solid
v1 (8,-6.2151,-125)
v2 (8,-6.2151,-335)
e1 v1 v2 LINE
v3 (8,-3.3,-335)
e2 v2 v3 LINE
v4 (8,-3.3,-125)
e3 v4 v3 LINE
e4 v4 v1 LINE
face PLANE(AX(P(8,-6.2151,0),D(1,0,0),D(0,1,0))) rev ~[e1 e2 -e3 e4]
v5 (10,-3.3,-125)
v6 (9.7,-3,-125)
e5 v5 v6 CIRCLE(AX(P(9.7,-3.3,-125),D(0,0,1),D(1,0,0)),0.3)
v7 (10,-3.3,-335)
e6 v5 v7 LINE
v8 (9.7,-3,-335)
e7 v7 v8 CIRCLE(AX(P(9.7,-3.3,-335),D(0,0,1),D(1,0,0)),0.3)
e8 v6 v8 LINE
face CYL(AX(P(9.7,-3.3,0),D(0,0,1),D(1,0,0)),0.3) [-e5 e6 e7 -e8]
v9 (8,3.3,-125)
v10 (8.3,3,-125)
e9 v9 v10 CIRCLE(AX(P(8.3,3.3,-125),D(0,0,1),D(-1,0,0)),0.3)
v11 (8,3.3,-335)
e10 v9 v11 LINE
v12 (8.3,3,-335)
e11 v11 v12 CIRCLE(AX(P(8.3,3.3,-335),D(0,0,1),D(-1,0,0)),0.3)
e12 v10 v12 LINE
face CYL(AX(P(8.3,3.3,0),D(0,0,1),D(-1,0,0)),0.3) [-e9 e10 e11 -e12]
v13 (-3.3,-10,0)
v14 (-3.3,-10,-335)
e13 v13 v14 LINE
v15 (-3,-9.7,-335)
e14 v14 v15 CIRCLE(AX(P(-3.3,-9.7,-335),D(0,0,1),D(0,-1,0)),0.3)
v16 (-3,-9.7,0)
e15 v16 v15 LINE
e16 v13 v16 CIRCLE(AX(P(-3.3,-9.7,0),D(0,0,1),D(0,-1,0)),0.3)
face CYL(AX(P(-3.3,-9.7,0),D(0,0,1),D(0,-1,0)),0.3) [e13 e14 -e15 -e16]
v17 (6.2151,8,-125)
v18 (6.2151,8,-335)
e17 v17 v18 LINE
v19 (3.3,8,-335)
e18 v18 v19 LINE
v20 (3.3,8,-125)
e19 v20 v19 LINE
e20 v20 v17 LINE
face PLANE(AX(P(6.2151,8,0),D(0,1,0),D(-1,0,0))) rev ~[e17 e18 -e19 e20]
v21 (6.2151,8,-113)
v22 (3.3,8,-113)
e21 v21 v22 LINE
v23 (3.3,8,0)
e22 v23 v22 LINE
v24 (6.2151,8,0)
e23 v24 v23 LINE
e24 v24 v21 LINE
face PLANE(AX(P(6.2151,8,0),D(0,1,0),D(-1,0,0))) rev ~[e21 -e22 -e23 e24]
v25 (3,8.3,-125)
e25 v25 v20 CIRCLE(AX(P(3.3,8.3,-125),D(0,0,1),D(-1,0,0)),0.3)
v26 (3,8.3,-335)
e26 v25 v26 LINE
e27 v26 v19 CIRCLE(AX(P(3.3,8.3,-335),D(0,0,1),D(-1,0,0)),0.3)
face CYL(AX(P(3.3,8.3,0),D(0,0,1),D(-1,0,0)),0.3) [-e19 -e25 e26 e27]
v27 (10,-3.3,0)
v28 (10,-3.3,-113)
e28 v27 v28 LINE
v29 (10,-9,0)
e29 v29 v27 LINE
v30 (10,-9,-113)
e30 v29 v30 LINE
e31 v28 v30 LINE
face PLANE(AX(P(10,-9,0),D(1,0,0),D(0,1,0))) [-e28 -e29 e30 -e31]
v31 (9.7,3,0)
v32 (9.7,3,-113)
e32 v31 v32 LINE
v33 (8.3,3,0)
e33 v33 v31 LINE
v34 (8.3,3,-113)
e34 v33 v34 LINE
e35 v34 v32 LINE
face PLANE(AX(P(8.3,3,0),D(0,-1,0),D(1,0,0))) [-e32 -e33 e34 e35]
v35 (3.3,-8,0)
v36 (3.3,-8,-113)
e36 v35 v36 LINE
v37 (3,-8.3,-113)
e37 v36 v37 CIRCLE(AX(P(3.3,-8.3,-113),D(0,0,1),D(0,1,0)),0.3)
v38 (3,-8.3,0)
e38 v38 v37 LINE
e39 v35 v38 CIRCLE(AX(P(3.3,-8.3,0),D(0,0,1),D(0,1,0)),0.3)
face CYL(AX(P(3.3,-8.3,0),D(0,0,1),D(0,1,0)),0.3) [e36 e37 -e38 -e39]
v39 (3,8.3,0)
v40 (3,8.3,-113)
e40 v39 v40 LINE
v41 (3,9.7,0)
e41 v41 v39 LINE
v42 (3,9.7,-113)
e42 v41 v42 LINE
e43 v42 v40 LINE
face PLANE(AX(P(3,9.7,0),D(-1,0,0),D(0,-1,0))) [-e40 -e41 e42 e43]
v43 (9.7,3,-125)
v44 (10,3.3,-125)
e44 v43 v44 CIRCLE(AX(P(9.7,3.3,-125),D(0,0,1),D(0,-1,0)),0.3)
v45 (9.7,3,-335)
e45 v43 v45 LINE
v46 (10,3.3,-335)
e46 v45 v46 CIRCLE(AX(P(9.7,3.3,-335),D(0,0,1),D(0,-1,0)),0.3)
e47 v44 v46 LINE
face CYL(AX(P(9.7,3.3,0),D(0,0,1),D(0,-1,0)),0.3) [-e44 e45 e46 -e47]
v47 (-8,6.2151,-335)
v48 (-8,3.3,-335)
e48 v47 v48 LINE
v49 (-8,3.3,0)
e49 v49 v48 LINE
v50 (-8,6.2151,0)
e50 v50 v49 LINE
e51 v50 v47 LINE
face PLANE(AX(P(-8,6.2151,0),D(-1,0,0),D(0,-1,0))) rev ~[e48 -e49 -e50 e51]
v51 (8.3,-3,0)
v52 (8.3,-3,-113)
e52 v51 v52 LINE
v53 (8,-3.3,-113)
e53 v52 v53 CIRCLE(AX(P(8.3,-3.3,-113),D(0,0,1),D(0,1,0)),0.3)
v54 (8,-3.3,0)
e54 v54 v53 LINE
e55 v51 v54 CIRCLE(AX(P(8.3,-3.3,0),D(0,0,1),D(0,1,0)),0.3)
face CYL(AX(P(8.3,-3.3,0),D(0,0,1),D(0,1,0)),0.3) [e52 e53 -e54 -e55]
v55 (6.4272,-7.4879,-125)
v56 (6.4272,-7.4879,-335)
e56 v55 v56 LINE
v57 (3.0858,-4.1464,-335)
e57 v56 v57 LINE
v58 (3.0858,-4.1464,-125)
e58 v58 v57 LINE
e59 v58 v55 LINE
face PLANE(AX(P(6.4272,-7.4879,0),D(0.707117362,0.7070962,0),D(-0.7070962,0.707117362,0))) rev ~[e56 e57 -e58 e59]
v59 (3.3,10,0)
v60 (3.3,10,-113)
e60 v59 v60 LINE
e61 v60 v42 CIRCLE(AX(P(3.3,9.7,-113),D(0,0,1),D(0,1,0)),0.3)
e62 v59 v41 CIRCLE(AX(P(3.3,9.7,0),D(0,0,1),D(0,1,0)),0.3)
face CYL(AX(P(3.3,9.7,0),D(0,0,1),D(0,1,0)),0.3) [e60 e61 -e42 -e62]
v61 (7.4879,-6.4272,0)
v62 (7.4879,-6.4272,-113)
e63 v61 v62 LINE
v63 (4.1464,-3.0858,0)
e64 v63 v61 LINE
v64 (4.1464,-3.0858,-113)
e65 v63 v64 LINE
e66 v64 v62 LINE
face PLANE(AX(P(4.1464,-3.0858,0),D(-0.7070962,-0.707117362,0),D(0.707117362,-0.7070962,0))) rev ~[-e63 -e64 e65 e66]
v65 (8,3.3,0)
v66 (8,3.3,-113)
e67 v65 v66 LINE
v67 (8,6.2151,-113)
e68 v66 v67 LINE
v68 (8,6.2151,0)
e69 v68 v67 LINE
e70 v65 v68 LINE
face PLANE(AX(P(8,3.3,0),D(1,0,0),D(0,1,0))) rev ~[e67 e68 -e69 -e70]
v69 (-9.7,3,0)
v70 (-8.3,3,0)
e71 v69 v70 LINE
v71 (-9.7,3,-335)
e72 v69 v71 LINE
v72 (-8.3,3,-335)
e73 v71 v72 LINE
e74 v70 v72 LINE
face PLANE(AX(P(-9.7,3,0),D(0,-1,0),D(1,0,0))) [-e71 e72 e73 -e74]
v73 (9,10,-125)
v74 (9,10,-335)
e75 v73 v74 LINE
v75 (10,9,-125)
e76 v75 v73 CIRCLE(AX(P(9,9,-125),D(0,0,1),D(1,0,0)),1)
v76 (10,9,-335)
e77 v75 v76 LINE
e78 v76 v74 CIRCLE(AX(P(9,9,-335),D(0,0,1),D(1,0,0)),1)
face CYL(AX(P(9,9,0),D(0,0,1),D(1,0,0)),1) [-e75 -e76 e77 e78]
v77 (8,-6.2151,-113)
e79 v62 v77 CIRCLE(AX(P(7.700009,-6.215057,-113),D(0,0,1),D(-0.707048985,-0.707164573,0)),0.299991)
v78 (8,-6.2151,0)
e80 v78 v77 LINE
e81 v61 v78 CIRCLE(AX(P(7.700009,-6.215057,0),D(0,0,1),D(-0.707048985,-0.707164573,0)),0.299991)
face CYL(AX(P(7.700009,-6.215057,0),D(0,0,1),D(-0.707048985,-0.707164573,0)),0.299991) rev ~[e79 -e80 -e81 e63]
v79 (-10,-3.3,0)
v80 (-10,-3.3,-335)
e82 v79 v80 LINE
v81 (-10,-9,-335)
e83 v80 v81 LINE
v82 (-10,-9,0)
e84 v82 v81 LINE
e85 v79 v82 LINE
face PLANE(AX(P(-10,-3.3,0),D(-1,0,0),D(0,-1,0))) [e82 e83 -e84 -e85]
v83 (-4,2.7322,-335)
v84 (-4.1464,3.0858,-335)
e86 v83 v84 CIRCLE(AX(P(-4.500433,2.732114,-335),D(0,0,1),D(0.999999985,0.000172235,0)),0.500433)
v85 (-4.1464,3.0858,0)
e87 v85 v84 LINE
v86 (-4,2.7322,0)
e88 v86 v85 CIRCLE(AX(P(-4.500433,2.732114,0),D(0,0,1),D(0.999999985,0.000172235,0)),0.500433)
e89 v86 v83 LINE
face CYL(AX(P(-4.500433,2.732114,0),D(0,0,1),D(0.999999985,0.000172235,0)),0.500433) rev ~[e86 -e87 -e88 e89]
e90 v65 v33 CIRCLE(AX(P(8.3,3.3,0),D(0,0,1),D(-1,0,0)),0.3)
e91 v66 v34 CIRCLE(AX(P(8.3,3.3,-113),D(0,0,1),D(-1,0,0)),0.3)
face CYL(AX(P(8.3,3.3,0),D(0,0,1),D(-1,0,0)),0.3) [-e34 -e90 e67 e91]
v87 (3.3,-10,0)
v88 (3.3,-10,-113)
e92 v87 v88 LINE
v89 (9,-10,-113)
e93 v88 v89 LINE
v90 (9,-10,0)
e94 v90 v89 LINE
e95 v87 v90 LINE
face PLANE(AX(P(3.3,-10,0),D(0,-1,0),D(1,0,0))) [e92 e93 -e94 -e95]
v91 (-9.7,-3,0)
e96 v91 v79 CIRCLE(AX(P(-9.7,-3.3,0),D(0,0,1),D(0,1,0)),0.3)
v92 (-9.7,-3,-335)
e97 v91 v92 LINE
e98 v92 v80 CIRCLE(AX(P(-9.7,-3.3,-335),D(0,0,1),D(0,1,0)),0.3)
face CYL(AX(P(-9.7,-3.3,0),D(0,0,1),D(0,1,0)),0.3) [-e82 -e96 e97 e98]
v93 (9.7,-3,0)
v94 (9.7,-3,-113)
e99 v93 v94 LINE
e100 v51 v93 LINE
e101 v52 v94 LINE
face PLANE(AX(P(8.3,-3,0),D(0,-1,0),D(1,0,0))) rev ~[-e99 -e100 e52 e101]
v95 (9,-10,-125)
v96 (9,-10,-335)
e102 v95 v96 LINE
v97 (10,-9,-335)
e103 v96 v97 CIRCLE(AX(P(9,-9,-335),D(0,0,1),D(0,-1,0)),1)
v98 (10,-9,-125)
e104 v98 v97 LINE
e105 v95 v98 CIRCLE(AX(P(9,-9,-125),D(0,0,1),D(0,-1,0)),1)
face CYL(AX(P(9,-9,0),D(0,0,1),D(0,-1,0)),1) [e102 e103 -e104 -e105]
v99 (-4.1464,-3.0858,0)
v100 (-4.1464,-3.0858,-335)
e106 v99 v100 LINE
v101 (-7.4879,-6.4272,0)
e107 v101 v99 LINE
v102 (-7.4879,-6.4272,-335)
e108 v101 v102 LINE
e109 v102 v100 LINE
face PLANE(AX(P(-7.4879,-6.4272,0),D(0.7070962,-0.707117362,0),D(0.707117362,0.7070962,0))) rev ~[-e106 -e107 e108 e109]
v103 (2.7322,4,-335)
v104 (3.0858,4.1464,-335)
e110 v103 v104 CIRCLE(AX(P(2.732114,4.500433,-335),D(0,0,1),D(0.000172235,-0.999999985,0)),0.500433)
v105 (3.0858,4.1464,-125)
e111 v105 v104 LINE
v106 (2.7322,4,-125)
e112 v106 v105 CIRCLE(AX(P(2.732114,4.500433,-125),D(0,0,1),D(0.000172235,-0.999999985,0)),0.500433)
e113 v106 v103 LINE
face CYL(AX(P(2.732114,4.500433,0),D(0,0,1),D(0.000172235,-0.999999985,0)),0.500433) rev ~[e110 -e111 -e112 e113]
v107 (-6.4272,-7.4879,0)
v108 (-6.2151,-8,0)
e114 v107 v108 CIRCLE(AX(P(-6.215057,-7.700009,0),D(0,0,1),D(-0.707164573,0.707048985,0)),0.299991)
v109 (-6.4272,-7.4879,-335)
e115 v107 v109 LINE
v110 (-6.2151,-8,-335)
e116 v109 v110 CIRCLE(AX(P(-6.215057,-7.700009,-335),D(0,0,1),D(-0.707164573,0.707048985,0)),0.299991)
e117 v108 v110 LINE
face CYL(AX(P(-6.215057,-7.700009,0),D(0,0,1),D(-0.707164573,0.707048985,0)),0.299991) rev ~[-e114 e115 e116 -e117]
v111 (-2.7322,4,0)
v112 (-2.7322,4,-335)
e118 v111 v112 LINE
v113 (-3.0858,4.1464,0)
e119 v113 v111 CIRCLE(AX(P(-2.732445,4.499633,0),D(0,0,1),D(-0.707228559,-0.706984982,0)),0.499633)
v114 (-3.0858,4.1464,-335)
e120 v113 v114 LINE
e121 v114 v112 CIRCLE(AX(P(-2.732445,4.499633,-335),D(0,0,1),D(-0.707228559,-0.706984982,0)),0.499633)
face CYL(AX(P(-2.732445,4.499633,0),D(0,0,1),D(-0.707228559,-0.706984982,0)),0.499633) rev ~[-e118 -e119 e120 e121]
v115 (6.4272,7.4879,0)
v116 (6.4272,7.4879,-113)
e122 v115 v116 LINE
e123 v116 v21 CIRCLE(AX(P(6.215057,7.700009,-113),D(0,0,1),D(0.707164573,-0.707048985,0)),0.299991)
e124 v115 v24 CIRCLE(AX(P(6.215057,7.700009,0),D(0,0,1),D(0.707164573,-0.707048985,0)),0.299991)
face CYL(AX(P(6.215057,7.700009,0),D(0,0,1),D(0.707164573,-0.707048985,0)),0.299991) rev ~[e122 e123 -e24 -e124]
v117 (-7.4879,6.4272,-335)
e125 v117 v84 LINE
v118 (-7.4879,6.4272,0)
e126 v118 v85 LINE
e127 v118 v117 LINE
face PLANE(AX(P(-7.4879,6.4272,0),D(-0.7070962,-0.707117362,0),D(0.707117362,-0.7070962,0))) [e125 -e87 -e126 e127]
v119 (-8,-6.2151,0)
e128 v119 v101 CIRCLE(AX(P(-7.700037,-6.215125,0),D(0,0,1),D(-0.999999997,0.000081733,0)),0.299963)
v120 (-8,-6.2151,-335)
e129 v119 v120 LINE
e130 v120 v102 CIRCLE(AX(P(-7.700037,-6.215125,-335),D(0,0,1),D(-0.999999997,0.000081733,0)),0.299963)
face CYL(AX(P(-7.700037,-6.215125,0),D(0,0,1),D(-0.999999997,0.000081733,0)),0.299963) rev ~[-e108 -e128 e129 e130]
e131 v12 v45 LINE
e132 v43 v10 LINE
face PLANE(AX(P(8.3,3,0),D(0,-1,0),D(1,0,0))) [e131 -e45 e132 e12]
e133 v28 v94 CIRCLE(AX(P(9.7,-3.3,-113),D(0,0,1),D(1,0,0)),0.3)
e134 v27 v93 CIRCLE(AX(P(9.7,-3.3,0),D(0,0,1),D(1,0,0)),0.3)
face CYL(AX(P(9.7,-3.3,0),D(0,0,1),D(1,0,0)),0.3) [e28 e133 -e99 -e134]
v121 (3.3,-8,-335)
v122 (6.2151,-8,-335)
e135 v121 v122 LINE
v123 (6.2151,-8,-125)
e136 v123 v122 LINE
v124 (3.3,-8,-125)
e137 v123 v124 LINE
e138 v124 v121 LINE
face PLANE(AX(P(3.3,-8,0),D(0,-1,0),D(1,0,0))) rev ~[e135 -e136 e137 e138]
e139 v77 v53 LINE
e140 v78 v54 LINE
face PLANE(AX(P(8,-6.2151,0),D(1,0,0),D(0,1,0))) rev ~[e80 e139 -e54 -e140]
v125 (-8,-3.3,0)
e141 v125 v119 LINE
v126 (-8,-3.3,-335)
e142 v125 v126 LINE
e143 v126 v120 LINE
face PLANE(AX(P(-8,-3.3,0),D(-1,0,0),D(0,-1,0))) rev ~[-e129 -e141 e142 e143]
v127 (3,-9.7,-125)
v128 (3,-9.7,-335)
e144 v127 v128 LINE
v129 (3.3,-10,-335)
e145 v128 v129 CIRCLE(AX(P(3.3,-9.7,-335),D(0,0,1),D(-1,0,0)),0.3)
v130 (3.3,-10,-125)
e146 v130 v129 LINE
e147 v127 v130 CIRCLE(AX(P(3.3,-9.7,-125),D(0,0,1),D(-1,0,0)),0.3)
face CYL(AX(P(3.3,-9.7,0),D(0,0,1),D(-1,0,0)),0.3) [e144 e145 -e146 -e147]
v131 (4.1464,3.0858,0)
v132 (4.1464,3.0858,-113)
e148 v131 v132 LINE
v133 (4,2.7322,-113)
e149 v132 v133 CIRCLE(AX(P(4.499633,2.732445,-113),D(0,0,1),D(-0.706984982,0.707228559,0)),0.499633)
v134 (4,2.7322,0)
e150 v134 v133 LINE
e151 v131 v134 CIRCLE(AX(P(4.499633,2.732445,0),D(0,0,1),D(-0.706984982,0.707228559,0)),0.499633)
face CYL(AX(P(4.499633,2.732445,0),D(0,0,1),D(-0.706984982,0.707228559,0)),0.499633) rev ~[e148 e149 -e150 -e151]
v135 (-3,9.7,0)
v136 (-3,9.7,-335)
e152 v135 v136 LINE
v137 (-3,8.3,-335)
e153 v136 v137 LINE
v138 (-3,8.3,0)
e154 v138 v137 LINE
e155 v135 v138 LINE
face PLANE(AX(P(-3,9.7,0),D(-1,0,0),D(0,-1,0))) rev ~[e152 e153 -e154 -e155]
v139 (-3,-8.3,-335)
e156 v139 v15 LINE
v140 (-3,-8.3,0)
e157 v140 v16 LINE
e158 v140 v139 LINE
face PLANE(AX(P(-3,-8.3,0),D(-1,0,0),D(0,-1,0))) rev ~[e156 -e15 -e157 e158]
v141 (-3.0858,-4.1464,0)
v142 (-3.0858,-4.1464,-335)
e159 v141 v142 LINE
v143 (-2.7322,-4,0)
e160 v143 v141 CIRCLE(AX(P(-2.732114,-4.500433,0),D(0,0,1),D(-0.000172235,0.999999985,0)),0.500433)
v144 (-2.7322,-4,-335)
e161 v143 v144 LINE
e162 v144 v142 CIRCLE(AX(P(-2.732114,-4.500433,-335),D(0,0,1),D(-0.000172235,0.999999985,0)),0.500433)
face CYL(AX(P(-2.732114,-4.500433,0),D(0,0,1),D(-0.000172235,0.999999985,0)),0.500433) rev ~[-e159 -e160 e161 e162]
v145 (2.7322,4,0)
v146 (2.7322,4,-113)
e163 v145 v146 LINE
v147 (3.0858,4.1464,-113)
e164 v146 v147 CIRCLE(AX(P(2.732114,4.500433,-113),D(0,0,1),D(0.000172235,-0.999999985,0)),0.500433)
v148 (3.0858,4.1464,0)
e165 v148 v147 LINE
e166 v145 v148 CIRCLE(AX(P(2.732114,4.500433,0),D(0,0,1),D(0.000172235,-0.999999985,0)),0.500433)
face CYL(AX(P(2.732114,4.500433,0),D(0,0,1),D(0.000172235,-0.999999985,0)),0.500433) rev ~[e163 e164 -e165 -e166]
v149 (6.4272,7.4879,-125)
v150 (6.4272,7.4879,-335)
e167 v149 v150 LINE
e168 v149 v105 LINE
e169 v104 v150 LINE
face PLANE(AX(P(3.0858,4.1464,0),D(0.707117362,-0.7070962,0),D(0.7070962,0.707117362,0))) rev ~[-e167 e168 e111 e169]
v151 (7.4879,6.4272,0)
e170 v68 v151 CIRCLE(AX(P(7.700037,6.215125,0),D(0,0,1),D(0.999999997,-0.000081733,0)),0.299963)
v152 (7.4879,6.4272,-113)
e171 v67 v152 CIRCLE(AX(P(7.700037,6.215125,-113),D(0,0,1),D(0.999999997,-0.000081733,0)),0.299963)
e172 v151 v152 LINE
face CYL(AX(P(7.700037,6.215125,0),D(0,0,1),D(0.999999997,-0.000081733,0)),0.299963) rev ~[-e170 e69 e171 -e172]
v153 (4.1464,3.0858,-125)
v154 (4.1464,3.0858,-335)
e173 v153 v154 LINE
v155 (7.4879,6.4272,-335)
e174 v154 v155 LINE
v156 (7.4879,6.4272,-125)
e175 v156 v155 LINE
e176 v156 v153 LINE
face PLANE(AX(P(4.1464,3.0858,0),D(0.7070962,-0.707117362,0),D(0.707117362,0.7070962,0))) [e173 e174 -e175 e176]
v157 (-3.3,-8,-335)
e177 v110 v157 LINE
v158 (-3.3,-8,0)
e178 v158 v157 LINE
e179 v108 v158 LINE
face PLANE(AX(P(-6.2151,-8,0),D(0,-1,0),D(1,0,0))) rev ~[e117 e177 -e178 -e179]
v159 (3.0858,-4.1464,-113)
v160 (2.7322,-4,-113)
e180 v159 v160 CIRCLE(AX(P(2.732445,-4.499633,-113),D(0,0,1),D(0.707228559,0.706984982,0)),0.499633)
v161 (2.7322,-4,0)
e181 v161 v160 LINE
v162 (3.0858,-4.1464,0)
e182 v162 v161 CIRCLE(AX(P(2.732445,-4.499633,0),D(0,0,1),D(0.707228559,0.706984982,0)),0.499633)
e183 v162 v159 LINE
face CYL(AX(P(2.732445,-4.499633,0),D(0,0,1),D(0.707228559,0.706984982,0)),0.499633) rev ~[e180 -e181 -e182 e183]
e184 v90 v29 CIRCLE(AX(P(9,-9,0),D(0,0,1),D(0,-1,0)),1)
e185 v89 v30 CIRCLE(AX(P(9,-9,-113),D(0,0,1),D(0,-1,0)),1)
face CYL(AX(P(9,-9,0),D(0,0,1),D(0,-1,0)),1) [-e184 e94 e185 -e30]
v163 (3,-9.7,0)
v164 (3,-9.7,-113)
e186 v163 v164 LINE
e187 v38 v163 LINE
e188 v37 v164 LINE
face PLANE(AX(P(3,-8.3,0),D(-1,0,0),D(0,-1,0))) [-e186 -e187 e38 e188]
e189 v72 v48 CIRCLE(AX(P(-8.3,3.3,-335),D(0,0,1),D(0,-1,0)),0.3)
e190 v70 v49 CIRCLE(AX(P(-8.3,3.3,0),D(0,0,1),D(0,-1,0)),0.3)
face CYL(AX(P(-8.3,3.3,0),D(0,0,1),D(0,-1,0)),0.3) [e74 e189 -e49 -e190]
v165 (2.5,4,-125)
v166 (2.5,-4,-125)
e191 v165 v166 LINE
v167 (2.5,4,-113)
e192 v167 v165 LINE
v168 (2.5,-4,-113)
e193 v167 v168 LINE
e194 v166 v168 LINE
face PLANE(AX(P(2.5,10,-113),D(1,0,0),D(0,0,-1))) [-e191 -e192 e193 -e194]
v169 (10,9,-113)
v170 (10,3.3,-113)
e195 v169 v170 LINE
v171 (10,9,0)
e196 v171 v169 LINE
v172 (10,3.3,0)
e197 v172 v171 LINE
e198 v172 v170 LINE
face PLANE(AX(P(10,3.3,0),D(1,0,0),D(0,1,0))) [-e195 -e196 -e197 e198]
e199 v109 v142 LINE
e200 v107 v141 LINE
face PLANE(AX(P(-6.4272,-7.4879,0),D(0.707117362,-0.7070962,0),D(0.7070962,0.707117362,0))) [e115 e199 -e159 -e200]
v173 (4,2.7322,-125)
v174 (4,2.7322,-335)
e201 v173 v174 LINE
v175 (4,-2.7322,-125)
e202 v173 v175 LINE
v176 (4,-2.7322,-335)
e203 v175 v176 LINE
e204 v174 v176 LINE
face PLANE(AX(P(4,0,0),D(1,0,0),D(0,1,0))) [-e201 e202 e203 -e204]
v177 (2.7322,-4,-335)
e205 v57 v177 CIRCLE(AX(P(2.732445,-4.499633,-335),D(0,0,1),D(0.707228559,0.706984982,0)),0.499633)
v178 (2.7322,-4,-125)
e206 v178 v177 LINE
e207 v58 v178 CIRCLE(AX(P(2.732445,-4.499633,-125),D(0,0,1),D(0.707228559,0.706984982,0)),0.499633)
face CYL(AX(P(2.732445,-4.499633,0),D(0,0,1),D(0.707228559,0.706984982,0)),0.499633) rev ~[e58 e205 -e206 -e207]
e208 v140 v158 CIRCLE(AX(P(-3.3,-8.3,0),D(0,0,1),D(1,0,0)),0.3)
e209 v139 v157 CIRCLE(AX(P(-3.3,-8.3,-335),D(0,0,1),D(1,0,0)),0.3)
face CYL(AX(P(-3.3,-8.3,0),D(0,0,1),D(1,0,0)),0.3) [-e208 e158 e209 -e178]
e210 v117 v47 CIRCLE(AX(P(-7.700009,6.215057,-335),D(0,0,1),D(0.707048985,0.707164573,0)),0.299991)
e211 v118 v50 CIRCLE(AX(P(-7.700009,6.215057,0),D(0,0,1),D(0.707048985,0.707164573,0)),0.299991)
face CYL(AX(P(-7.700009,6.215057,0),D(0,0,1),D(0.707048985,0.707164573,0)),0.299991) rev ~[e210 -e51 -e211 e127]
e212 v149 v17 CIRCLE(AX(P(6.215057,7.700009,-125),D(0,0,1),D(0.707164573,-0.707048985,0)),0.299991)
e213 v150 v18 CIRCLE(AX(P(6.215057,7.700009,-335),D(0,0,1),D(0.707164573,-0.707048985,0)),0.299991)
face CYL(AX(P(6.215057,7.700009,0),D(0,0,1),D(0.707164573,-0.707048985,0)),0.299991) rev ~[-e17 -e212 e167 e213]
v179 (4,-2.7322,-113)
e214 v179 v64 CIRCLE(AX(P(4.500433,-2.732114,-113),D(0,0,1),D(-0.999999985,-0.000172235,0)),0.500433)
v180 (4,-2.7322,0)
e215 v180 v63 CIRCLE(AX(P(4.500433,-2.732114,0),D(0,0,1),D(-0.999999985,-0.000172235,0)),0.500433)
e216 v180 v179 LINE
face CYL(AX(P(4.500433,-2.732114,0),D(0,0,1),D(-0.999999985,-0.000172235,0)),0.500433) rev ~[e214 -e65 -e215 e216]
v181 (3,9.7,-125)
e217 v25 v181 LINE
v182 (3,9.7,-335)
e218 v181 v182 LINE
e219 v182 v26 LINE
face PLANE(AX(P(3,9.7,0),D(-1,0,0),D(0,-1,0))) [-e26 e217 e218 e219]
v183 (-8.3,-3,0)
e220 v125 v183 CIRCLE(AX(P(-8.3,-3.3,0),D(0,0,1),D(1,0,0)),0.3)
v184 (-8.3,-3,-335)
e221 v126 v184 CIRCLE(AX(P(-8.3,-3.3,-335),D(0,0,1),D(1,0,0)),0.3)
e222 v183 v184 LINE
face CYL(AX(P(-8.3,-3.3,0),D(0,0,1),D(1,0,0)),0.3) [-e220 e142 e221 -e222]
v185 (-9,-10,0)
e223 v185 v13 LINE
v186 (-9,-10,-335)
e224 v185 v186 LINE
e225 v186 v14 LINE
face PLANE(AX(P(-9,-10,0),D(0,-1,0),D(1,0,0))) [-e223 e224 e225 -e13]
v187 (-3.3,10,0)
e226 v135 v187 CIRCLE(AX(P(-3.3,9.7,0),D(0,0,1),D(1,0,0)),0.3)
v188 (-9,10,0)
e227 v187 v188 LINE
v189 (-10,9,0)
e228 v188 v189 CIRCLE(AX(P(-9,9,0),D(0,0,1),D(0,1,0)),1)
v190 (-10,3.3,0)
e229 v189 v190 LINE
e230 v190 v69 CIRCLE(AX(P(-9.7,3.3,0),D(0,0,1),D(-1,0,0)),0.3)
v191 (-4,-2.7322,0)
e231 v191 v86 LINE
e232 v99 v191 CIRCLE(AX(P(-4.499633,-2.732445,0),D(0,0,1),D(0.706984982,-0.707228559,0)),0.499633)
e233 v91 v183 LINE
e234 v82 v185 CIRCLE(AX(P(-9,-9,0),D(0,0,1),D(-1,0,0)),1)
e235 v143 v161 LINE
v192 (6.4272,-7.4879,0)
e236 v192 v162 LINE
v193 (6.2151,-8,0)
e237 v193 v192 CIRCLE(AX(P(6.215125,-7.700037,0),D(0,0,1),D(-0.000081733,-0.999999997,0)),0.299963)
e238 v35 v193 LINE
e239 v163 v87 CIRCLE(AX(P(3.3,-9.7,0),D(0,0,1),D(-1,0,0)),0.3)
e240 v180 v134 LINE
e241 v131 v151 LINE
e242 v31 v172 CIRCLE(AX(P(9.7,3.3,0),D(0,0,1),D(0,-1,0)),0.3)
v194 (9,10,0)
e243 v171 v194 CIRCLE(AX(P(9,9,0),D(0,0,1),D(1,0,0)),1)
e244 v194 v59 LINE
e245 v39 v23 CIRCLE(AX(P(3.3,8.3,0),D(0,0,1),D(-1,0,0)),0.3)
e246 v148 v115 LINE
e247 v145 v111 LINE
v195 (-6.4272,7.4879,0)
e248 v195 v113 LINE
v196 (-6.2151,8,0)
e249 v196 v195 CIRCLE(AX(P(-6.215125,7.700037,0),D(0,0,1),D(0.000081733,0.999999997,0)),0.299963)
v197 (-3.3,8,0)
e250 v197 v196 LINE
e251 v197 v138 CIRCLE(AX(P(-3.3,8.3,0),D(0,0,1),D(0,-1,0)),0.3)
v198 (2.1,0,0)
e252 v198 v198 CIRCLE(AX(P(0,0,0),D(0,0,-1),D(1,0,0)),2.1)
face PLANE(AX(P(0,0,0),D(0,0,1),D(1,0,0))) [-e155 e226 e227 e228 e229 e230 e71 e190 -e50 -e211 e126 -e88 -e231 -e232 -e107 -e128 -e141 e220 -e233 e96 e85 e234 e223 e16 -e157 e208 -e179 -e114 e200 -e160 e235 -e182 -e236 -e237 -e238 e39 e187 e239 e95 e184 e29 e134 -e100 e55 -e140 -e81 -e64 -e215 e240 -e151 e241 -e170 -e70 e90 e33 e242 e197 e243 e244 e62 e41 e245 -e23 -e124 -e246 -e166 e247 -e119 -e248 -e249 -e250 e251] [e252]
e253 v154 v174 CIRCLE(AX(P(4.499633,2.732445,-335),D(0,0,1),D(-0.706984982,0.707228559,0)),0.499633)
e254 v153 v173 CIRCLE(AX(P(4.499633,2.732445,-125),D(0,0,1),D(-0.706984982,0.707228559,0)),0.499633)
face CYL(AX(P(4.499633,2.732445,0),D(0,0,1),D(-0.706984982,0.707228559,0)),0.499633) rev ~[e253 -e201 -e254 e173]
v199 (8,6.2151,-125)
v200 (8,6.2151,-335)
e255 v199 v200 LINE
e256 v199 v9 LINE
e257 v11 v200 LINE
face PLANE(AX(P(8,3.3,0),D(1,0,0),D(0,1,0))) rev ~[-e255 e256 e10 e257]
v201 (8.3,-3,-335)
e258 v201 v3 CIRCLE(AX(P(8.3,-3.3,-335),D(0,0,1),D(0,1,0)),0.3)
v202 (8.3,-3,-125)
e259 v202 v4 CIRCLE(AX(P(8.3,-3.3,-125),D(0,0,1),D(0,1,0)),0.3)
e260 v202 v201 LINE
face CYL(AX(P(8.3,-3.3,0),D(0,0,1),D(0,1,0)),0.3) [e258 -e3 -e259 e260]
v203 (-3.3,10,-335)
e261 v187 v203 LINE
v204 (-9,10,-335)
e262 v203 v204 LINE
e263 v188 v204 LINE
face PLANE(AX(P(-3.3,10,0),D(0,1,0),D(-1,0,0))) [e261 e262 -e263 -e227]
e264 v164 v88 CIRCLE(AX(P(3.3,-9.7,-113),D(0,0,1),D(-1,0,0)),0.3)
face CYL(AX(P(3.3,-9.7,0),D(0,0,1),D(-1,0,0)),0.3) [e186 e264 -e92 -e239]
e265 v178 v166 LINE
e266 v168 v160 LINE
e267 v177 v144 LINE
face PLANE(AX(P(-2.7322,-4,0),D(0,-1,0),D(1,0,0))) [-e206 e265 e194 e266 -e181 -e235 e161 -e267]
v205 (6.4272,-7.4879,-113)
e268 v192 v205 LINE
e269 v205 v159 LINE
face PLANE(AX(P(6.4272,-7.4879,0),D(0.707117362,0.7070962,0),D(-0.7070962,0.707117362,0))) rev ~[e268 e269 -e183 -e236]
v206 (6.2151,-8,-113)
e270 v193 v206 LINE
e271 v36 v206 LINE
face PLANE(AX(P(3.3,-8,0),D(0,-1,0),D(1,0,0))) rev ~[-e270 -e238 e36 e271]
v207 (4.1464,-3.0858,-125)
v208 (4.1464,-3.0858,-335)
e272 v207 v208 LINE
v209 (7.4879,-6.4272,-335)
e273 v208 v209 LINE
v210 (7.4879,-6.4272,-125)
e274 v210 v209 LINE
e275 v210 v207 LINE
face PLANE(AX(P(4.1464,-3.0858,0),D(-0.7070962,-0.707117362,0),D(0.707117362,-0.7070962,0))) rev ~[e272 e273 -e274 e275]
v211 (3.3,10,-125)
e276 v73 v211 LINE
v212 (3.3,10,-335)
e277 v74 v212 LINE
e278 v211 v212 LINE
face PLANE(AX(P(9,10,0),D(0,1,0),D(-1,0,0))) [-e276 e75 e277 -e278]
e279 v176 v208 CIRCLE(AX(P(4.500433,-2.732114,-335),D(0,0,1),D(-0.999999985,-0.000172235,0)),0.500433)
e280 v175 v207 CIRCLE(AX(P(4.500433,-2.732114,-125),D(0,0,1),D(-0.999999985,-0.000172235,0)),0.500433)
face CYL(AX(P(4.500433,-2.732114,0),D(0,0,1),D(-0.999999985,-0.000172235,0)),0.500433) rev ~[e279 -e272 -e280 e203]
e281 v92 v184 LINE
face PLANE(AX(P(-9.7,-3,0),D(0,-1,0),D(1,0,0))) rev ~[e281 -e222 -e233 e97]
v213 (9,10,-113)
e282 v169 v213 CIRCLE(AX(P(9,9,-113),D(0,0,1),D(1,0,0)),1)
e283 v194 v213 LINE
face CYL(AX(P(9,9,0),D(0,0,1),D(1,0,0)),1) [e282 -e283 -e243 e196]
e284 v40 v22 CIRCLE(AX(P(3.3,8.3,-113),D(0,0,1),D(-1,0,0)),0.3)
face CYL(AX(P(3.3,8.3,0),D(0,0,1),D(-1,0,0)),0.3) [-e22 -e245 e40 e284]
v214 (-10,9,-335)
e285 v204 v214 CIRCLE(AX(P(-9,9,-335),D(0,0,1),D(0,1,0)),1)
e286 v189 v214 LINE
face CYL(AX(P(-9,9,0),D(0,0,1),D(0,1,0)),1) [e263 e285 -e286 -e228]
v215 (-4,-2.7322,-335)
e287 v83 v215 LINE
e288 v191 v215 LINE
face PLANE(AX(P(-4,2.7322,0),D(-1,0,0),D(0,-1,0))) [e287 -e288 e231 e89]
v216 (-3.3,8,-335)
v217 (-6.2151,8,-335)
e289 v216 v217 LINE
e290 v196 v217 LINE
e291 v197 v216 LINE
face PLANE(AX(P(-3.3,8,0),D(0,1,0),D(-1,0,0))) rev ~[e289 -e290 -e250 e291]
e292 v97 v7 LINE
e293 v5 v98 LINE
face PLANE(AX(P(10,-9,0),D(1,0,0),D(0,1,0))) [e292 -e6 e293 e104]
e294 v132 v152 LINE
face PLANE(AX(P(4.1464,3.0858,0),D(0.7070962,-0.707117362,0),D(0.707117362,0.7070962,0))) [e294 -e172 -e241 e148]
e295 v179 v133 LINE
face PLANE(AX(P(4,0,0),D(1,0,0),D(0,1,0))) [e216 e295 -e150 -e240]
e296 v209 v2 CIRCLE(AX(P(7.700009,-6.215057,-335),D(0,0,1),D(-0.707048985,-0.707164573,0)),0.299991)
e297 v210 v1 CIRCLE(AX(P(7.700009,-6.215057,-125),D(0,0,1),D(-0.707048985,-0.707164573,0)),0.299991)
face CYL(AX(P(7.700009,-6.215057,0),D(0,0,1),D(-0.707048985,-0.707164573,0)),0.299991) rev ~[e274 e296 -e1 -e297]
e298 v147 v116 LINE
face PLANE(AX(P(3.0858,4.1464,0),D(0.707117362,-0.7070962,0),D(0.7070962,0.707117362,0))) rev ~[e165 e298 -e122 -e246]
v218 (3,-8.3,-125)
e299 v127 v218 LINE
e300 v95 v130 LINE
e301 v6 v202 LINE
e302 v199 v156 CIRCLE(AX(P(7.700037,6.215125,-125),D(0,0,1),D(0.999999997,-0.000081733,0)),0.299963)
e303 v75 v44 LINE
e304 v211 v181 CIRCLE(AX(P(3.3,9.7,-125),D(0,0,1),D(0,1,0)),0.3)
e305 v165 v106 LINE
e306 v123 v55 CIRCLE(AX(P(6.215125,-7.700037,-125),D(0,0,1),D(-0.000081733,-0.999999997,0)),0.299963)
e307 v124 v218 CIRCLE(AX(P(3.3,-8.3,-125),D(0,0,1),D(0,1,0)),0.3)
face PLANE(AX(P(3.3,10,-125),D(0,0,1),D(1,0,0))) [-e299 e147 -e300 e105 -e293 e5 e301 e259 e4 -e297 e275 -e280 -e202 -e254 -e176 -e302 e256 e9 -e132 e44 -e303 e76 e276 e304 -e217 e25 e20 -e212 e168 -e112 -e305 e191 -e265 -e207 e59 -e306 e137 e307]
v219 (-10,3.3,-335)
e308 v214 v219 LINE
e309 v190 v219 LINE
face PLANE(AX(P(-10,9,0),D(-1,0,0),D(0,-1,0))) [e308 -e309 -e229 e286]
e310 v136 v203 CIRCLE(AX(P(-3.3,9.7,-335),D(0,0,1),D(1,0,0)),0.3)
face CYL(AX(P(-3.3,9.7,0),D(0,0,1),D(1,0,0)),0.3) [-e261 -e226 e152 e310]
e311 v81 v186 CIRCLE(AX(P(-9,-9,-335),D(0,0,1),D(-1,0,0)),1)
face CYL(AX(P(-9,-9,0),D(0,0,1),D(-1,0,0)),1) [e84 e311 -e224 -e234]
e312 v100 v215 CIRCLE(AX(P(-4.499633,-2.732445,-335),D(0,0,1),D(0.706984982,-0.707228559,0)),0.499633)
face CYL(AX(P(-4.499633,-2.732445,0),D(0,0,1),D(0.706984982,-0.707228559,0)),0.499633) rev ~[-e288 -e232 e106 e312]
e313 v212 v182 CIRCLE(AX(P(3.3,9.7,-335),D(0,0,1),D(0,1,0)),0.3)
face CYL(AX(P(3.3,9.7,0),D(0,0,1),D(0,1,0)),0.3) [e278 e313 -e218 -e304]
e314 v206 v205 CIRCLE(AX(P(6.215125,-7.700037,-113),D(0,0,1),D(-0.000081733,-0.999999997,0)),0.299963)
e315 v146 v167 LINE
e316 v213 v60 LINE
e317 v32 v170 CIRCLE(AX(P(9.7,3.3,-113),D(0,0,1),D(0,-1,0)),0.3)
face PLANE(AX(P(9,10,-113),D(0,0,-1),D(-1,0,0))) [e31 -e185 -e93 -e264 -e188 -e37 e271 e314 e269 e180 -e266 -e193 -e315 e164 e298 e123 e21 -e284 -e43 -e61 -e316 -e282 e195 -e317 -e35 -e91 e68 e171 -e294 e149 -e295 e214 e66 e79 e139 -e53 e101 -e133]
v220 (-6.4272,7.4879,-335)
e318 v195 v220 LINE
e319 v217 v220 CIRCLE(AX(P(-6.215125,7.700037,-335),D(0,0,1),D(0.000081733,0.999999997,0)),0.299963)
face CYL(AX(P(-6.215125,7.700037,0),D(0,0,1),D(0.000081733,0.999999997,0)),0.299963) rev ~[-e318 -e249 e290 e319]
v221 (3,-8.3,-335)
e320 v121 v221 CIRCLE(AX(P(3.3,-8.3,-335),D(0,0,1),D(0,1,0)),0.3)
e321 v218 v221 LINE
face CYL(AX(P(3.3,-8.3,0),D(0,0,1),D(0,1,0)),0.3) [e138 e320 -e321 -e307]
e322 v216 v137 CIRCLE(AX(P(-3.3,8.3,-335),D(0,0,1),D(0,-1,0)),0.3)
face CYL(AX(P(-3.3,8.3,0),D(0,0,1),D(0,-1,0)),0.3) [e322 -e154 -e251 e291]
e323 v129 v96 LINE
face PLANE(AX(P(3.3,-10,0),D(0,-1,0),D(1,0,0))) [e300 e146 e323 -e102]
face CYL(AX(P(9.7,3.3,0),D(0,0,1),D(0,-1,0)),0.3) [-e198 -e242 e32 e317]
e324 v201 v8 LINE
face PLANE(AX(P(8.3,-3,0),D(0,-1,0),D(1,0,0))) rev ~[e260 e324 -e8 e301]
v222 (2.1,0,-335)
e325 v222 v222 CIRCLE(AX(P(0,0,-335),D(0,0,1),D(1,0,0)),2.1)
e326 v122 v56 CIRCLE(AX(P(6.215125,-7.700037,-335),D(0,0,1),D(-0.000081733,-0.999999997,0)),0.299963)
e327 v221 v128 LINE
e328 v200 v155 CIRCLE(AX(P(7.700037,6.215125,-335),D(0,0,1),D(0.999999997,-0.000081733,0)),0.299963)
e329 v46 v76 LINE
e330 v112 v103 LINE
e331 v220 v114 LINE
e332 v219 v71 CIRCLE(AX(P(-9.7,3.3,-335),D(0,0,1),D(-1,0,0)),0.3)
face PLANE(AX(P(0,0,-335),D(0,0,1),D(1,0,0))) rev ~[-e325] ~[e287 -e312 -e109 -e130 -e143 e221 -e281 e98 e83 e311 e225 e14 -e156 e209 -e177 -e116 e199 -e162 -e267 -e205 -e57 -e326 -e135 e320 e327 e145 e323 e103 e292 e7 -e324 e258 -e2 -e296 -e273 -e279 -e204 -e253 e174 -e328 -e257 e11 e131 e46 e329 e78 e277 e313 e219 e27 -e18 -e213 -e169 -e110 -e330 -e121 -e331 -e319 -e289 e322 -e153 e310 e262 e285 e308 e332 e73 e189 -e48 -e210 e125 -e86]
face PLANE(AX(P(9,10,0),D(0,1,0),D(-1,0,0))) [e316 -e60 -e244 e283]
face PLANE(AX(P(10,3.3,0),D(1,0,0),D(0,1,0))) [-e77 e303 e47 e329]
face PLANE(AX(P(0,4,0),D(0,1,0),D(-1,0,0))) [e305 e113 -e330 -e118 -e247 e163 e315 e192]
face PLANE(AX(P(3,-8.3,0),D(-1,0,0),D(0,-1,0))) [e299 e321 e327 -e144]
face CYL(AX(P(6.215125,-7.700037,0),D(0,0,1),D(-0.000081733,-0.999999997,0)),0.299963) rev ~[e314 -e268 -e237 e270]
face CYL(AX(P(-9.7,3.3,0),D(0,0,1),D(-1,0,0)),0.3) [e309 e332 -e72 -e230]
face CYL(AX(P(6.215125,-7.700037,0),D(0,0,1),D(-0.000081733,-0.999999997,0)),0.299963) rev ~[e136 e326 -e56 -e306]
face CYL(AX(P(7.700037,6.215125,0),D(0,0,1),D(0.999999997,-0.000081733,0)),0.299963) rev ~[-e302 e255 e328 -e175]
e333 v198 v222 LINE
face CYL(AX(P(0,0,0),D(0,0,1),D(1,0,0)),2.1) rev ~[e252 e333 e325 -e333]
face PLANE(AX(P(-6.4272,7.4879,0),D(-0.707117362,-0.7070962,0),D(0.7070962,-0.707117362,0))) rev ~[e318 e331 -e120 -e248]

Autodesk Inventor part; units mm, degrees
ref_plane "YZ Plane" through (0, 0, 0) normal (1, 0, 0) x (0, 1, 0)
ref_plane "XZ Plane" through (0, 0, 0) normal (0, 1, 0) x (-1, 0, 0)
ref_plane "XY Plane" through (0, 0, 0) normal (0, 0, 1) x (1, 0, 0)
sketch "Skizze1" plane through (0, 0, 0) normal (0, 0, 1) x (1, 0, 0)
  line L0 (-28.0083, 0) -> (28.0083, 0) projected
  line L1 (0, -28.0083) -> (0, 28.0083) projected
  line L2 (-20.0059, 0) -> (20.0059, 0)
  line L3 (0, -20.0059) -> (0, 20.0059)
  line L4 (-14.2899, 0) -> (14.2899, 0)
  line L5 (0, -14.2899) -> (0, 14.2899)
  line L6 (-10, -10) -> (10, 10) construction
  line L7 (10, -10) -> (-10, 10) construction
  line L8 (-8, -8) -> (8, 8) construction
  line L9 (8, -8) -> (-8, 8) construction
  line L10 (-2.7322, -4) -> (2.7322, -4)
  line L11 (4, -2.7322) -> (4, 2.7322)
  line L12 (2.7322, 4) -> (-2.7322, 4)
  line L13 (-4, 2.7322) -> (-4, -2.7322)
  line L14 (-4, -4) -> (4, 4) construction
  line L15 (4, -4) -> (-4, 4) construction
  arc A0 (-9, 10) -> (-10, 9) centre (-9, 9) ccw
  arc A1 (10, 9) -> (9, 10) centre (9, 9) ccw
  arc A2 (9, -10) -> (10, -9) centre (9, -9) ccw
  arc A3 (-10, -9) -> (-9, -10) centre (-9, -9) ccw
  line L16 (-3, 9.7) -> (-3, 8.3)
  line L17 (3, 9.7) -> (3, 8.3)
  line L18 (6.2151, 8) -> (3.3, 8)
  line L19 (-3.3, 8) -> (-6.2151, 8)
  line L20 (9, 10) -> (3.3, 10)
  line L21 (-3.3, 10) -> (-9, 10)
  line L22 (-9.7, -3) -> (-8.3, -3)
  line L23 (-9.7, 3) -> (-8.3, 3)
  line L24 (-8, 6.2151) -> (-8, 3.3)
  line L25 (-8, -3.3) -> (-8, -6.2151)
  line L26 (-10, 9) -> (-10, 3.3)
  line L27 (-10, -3.3) -> (-10, -9)
  line L28 (-3, -8.3) -> (-3, -9.7)
  line L29 (3, -8.3) -> (3, -9.7)
  line L30 (-9, -10) -> (-3.3, -10)
  line L31 (3.3, -10) -> (9, -10)
  line L32 (-6.2151, -8) -> (-3.3, -8)
  line L33 (3.3, -8) -> (6.2151, -8)
  line L34 (8.3, 3) -> (9.7, 3)
  line L35 (8.3, -3) -> (9.7, -3)
  line L36 (8, -6.2151) -> (8, -3.3)
  line L37 (8, 3.3) -> (8, 6.2151)
  line L38 (10, -9) -> (10, -3.3)
  line L39 (10, 3.3) -> (10, 9)
  arc A4 (-10, 3.3) -> (-9.7, 3) centre (-9.7, 3.3) ccw
  arc A5 (-8.3, 3) -> (-8, 3.3) centre (-8.3, 3.3) ccw
  arc A6 (-9.7, -3) -> (-10, -3.3) centre (-9.7, -3.3) ccw
  arc A7 (-8, -3.3) -> (-8.3, -3) centre (-8.3, -3.3) ccw
  arc A8 (-3.3, -10) -> (-3, -9.7) centre (-3.3, -9.7) ccw
  arc A9 (-3, -8.3) -> (-3.3, -8) centre (-3.3, -8.3) ccw
  arc A10 (3, -9.7) -> (3.3, -10) centre (3.3, -9.7) ccw
  arc A11 (3.3, -8) -> (3, -8.3) centre (3.3, -8.3) ccw
  arc A12 (8.3, -3) -> (8, -3.3) centre (8.3, -3.3) ccw
  arc A13 (10, -3.3) -> (9.7, -3) centre (9.7, -3.3) ccw
  arc A14 (8, 3.3) -> (8.3, 3) centre (8.3, 3.3) ccw
  arc A15 (9.7, 3) -> (10, 3.3) centre (9.7, 3.3) ccw
  arc A16 (3, 8.3) -> (3.3, 8) centre (3.3, 8.3) ccw
  arc A17 (3.3, 10) -> (3, 9.7) centre (3.3, 9.7) ccw
  arc A18 (-3.3, 8) -> (-3, 8.3) centre (-3.3, 8.3) ccw
  arc A19 (-3, 9.7) -> (-3.3, 10) centre (-3.3, 9.7) ccw
  line L40 (-7.4879, 6.4272) -> (-4.1464, 3.0858)
  line L41 (-6.4272, 7.4879) -> (-3.0858, 4.1464)
  line L42 (-6.4272, -7.4879) -> (-3.0858, -4.1464)
  line L43 (-7.4879, -6.4272) -> (-4.1464, -3.0858)
  arc A20 (-7.4879, 6.4272) -> (-8, 6.2151) centre (-7.7, 6.2151) ccw
  arc A21 (-6.2151, 8) -> (-6.4272, 7.4879) centre (-6.2151, 7.7) ccw
  arc A22 (-8, -6.2151) -> (-7.4879, -6.4272) centre (-7.7, -6.2151) ccw
  arc A23 (-6.4272, -7.4879) -> (-6.2151, -8) centre (-6.2151, -7.7) ccw
  line L44 (6.4272, -7.4879) -> (3.0858, -4.1464)
  line L45 (4.1464, -3.0858) -> (7.4879, -6.4272)
  arc A24 (6.2151, -8) -> (6.4272, -7.4879) centre (6.2151, -7.7) ccw
  arc A25 (7.4879, -6.4272) -> (8, -6.2151) centre (7.7, -6.2151) ccw
  line L46 (4.1464, 3.0858) -> (7.4879, 6.4272)
  line L47 (3.0858, 4.1464) -> (6.4272, 7.4879)
  arc A26 (6.4272, 7.4879) -> (6.2151, 8) centre (6.2151, 7.7) ccw
  arc A27 (8, 6.2151) -> (7.4879, 6.4272) centre (7.7, 6.2151) ccw
  arc A28 (-3.0858, 4.1464) -> (-2.7322, 4) centre (-2.7322, 4.5) ccw
  arc A29 (-4, 2.7322) -> (-4.1464, 3.0858) centre (-4.5, 2.7322) ccw
  arc A30 (2.7322, 4) -> (3.0858, 4.1464) centre (2.7322, 4.5) ccw
  arc A31 (4.1464, 3.0858) -> (4, 2.7322) centre (4.5, 2.7322) ccw
  arc A32 (-4.1464, -3.0858) -> (-4, -2.7322) centre (-4.5, -2.7322) ccw
  arc A33 (-2.7322, -4) -> (-3.0858, -4.1464) centre (-2.7322, -4.5) ccw
  arc A34 (3.0858, -4.1464) -> (2.7322, -4) centre (2.7322, -4.5) ccw
  arc A35 (4, -2.7322) -> (4.1464, -3.0858) centre (4.5, -2.7322) ccw
  circle A36 centre (0, 0) radius 2.1
  point P0 (-3, 9.1415)
  point P1 (3, 8.9014)
  point P2 (-8.9764, -3)
  point P3 (-9.1265, 3)
  point P4 (-3, -9.1251)
  point P5 (3, -9.1251)
  point P6 (9.1101, 3)
  point P7 (9.1101, -3)
  dimension "d0" = 20
  dimension "d1" = 20
  dimension "d2" = 16
  dimension "d3" = 16
  dimension "d4" = 8
  dimension "d5" = 8
  dimension "d6" = 1
  dimension "d7" = 6
  dimension "d8" = 6
  dimension "d9" = 6
  dimension "d10" = 6
  dimension "d11" = 0.3
  dimension "d12" = 1.5
  dimension "d13" = 1.5
  dimension "d14" = 0.3
  dimension "d15" = 1.5
  dimension "d16" = 0.3
  dimension "d17" = 1.5
  dimension "d18" = 0.3
  dimension "d19" = 0.5
  dimension "d20" = 4.2
  dimension "d21" = 45
  dimension "d22" = 10
  dimension "d23" = 10
  dimension "d24" = 4
  dimension "d25" = 4
  dimension "d26" = 10
  dimension "d27" = 8
  dimension "d28" = 4
  dimension "d29" = 4
  dimension "d30" = 10
  dimension "d31" = 9.1101
  dimension "d32" = 8
  dimension "d33" = 4
  dimension "d34" = 8.9014
  dimension "d35" = 9.1251
  dimension "d36" = 9.1415
  dimension "d37" = 8.9764
  dimension "d38" = 9.1265
extrude "Extrusion1" add sketch "Skizze1" against normal blind 335 contours L13 A29 L40 A20 L24 A5 L23 A4 L26 A0 L21 A19 L16 A18 L19 A21 L41 A28 L12 L1 A36 L0 | L0 A36 L1 L10 A33 L42 A23 L32 A9 L28 A8 L30 A3 L27 A6 L22 A7 L25 A22 L43 A32 L13 | L1 L12 A30 L47 A26 L18 A16 L17 A17 L20 A1 L39 A15 L34 A14 L37 A27 L46 A31 L11 L0 A36 | A36 L0 L11 A35 L45 A25 L36 A12 L35 A13 L38 A2 L31 A10 L29 A11 L33 A24 L44 A34 L10 L1
sketch "Skizze2" plane through (9, 10, 0) normal (0, 1, 0) x (1, 0, 0)
  line L0 (0, 0) -> (-5.7, 0) projected
  line L1 (0, 0) -> (0, 335) projected
  line L2 (-5.7, 335) -> (0, 335) projected
  line L3 (-5.7, 0) -> (-5.7, 335) projected
  line L4 (-12.3, 0) -> (-18, 0) projected
  line L5 (-12.3, 0) -> (-12.3, 335) projected
  line L6 (-18, 335) -> (-12.3, 335) projected
  line L7 (-18, 0) -> (-18, 335) projected
  line L8 (-6.2678, 0) -> (-6.2678, 335) projected
  line L9 (-23, 0) -> (5, 0) projected
  line L10 (-9, 402) -> (-9, -67) projected
  line L11 (1, 0) -> (1, 335) projected
  line L12 (1, 113) -> (-6.5, 113)
  line L13 (-6.5, 113) -> (-6.5, 125)
  line L14 (-6.5, 125) -> (1, 125)
  line L15 (1, 125) -> (1, 113)
  point P0 (-9, 0)
  point P1 (1, 125)
  dimension "d41" = 7.5
  dimension "d42" = 12
  dimension "d43" = 210
extrude "Extrusion2" cut sketch "Skizze2" against normal blind 335 contours L12 L3 L14 L1 | L1 L14 L11 L12 | L12 L8 L14 L3 | L12 L13 L14 L8
properties part number "II Strebe waagrecht" material "Aluminium 6061"
